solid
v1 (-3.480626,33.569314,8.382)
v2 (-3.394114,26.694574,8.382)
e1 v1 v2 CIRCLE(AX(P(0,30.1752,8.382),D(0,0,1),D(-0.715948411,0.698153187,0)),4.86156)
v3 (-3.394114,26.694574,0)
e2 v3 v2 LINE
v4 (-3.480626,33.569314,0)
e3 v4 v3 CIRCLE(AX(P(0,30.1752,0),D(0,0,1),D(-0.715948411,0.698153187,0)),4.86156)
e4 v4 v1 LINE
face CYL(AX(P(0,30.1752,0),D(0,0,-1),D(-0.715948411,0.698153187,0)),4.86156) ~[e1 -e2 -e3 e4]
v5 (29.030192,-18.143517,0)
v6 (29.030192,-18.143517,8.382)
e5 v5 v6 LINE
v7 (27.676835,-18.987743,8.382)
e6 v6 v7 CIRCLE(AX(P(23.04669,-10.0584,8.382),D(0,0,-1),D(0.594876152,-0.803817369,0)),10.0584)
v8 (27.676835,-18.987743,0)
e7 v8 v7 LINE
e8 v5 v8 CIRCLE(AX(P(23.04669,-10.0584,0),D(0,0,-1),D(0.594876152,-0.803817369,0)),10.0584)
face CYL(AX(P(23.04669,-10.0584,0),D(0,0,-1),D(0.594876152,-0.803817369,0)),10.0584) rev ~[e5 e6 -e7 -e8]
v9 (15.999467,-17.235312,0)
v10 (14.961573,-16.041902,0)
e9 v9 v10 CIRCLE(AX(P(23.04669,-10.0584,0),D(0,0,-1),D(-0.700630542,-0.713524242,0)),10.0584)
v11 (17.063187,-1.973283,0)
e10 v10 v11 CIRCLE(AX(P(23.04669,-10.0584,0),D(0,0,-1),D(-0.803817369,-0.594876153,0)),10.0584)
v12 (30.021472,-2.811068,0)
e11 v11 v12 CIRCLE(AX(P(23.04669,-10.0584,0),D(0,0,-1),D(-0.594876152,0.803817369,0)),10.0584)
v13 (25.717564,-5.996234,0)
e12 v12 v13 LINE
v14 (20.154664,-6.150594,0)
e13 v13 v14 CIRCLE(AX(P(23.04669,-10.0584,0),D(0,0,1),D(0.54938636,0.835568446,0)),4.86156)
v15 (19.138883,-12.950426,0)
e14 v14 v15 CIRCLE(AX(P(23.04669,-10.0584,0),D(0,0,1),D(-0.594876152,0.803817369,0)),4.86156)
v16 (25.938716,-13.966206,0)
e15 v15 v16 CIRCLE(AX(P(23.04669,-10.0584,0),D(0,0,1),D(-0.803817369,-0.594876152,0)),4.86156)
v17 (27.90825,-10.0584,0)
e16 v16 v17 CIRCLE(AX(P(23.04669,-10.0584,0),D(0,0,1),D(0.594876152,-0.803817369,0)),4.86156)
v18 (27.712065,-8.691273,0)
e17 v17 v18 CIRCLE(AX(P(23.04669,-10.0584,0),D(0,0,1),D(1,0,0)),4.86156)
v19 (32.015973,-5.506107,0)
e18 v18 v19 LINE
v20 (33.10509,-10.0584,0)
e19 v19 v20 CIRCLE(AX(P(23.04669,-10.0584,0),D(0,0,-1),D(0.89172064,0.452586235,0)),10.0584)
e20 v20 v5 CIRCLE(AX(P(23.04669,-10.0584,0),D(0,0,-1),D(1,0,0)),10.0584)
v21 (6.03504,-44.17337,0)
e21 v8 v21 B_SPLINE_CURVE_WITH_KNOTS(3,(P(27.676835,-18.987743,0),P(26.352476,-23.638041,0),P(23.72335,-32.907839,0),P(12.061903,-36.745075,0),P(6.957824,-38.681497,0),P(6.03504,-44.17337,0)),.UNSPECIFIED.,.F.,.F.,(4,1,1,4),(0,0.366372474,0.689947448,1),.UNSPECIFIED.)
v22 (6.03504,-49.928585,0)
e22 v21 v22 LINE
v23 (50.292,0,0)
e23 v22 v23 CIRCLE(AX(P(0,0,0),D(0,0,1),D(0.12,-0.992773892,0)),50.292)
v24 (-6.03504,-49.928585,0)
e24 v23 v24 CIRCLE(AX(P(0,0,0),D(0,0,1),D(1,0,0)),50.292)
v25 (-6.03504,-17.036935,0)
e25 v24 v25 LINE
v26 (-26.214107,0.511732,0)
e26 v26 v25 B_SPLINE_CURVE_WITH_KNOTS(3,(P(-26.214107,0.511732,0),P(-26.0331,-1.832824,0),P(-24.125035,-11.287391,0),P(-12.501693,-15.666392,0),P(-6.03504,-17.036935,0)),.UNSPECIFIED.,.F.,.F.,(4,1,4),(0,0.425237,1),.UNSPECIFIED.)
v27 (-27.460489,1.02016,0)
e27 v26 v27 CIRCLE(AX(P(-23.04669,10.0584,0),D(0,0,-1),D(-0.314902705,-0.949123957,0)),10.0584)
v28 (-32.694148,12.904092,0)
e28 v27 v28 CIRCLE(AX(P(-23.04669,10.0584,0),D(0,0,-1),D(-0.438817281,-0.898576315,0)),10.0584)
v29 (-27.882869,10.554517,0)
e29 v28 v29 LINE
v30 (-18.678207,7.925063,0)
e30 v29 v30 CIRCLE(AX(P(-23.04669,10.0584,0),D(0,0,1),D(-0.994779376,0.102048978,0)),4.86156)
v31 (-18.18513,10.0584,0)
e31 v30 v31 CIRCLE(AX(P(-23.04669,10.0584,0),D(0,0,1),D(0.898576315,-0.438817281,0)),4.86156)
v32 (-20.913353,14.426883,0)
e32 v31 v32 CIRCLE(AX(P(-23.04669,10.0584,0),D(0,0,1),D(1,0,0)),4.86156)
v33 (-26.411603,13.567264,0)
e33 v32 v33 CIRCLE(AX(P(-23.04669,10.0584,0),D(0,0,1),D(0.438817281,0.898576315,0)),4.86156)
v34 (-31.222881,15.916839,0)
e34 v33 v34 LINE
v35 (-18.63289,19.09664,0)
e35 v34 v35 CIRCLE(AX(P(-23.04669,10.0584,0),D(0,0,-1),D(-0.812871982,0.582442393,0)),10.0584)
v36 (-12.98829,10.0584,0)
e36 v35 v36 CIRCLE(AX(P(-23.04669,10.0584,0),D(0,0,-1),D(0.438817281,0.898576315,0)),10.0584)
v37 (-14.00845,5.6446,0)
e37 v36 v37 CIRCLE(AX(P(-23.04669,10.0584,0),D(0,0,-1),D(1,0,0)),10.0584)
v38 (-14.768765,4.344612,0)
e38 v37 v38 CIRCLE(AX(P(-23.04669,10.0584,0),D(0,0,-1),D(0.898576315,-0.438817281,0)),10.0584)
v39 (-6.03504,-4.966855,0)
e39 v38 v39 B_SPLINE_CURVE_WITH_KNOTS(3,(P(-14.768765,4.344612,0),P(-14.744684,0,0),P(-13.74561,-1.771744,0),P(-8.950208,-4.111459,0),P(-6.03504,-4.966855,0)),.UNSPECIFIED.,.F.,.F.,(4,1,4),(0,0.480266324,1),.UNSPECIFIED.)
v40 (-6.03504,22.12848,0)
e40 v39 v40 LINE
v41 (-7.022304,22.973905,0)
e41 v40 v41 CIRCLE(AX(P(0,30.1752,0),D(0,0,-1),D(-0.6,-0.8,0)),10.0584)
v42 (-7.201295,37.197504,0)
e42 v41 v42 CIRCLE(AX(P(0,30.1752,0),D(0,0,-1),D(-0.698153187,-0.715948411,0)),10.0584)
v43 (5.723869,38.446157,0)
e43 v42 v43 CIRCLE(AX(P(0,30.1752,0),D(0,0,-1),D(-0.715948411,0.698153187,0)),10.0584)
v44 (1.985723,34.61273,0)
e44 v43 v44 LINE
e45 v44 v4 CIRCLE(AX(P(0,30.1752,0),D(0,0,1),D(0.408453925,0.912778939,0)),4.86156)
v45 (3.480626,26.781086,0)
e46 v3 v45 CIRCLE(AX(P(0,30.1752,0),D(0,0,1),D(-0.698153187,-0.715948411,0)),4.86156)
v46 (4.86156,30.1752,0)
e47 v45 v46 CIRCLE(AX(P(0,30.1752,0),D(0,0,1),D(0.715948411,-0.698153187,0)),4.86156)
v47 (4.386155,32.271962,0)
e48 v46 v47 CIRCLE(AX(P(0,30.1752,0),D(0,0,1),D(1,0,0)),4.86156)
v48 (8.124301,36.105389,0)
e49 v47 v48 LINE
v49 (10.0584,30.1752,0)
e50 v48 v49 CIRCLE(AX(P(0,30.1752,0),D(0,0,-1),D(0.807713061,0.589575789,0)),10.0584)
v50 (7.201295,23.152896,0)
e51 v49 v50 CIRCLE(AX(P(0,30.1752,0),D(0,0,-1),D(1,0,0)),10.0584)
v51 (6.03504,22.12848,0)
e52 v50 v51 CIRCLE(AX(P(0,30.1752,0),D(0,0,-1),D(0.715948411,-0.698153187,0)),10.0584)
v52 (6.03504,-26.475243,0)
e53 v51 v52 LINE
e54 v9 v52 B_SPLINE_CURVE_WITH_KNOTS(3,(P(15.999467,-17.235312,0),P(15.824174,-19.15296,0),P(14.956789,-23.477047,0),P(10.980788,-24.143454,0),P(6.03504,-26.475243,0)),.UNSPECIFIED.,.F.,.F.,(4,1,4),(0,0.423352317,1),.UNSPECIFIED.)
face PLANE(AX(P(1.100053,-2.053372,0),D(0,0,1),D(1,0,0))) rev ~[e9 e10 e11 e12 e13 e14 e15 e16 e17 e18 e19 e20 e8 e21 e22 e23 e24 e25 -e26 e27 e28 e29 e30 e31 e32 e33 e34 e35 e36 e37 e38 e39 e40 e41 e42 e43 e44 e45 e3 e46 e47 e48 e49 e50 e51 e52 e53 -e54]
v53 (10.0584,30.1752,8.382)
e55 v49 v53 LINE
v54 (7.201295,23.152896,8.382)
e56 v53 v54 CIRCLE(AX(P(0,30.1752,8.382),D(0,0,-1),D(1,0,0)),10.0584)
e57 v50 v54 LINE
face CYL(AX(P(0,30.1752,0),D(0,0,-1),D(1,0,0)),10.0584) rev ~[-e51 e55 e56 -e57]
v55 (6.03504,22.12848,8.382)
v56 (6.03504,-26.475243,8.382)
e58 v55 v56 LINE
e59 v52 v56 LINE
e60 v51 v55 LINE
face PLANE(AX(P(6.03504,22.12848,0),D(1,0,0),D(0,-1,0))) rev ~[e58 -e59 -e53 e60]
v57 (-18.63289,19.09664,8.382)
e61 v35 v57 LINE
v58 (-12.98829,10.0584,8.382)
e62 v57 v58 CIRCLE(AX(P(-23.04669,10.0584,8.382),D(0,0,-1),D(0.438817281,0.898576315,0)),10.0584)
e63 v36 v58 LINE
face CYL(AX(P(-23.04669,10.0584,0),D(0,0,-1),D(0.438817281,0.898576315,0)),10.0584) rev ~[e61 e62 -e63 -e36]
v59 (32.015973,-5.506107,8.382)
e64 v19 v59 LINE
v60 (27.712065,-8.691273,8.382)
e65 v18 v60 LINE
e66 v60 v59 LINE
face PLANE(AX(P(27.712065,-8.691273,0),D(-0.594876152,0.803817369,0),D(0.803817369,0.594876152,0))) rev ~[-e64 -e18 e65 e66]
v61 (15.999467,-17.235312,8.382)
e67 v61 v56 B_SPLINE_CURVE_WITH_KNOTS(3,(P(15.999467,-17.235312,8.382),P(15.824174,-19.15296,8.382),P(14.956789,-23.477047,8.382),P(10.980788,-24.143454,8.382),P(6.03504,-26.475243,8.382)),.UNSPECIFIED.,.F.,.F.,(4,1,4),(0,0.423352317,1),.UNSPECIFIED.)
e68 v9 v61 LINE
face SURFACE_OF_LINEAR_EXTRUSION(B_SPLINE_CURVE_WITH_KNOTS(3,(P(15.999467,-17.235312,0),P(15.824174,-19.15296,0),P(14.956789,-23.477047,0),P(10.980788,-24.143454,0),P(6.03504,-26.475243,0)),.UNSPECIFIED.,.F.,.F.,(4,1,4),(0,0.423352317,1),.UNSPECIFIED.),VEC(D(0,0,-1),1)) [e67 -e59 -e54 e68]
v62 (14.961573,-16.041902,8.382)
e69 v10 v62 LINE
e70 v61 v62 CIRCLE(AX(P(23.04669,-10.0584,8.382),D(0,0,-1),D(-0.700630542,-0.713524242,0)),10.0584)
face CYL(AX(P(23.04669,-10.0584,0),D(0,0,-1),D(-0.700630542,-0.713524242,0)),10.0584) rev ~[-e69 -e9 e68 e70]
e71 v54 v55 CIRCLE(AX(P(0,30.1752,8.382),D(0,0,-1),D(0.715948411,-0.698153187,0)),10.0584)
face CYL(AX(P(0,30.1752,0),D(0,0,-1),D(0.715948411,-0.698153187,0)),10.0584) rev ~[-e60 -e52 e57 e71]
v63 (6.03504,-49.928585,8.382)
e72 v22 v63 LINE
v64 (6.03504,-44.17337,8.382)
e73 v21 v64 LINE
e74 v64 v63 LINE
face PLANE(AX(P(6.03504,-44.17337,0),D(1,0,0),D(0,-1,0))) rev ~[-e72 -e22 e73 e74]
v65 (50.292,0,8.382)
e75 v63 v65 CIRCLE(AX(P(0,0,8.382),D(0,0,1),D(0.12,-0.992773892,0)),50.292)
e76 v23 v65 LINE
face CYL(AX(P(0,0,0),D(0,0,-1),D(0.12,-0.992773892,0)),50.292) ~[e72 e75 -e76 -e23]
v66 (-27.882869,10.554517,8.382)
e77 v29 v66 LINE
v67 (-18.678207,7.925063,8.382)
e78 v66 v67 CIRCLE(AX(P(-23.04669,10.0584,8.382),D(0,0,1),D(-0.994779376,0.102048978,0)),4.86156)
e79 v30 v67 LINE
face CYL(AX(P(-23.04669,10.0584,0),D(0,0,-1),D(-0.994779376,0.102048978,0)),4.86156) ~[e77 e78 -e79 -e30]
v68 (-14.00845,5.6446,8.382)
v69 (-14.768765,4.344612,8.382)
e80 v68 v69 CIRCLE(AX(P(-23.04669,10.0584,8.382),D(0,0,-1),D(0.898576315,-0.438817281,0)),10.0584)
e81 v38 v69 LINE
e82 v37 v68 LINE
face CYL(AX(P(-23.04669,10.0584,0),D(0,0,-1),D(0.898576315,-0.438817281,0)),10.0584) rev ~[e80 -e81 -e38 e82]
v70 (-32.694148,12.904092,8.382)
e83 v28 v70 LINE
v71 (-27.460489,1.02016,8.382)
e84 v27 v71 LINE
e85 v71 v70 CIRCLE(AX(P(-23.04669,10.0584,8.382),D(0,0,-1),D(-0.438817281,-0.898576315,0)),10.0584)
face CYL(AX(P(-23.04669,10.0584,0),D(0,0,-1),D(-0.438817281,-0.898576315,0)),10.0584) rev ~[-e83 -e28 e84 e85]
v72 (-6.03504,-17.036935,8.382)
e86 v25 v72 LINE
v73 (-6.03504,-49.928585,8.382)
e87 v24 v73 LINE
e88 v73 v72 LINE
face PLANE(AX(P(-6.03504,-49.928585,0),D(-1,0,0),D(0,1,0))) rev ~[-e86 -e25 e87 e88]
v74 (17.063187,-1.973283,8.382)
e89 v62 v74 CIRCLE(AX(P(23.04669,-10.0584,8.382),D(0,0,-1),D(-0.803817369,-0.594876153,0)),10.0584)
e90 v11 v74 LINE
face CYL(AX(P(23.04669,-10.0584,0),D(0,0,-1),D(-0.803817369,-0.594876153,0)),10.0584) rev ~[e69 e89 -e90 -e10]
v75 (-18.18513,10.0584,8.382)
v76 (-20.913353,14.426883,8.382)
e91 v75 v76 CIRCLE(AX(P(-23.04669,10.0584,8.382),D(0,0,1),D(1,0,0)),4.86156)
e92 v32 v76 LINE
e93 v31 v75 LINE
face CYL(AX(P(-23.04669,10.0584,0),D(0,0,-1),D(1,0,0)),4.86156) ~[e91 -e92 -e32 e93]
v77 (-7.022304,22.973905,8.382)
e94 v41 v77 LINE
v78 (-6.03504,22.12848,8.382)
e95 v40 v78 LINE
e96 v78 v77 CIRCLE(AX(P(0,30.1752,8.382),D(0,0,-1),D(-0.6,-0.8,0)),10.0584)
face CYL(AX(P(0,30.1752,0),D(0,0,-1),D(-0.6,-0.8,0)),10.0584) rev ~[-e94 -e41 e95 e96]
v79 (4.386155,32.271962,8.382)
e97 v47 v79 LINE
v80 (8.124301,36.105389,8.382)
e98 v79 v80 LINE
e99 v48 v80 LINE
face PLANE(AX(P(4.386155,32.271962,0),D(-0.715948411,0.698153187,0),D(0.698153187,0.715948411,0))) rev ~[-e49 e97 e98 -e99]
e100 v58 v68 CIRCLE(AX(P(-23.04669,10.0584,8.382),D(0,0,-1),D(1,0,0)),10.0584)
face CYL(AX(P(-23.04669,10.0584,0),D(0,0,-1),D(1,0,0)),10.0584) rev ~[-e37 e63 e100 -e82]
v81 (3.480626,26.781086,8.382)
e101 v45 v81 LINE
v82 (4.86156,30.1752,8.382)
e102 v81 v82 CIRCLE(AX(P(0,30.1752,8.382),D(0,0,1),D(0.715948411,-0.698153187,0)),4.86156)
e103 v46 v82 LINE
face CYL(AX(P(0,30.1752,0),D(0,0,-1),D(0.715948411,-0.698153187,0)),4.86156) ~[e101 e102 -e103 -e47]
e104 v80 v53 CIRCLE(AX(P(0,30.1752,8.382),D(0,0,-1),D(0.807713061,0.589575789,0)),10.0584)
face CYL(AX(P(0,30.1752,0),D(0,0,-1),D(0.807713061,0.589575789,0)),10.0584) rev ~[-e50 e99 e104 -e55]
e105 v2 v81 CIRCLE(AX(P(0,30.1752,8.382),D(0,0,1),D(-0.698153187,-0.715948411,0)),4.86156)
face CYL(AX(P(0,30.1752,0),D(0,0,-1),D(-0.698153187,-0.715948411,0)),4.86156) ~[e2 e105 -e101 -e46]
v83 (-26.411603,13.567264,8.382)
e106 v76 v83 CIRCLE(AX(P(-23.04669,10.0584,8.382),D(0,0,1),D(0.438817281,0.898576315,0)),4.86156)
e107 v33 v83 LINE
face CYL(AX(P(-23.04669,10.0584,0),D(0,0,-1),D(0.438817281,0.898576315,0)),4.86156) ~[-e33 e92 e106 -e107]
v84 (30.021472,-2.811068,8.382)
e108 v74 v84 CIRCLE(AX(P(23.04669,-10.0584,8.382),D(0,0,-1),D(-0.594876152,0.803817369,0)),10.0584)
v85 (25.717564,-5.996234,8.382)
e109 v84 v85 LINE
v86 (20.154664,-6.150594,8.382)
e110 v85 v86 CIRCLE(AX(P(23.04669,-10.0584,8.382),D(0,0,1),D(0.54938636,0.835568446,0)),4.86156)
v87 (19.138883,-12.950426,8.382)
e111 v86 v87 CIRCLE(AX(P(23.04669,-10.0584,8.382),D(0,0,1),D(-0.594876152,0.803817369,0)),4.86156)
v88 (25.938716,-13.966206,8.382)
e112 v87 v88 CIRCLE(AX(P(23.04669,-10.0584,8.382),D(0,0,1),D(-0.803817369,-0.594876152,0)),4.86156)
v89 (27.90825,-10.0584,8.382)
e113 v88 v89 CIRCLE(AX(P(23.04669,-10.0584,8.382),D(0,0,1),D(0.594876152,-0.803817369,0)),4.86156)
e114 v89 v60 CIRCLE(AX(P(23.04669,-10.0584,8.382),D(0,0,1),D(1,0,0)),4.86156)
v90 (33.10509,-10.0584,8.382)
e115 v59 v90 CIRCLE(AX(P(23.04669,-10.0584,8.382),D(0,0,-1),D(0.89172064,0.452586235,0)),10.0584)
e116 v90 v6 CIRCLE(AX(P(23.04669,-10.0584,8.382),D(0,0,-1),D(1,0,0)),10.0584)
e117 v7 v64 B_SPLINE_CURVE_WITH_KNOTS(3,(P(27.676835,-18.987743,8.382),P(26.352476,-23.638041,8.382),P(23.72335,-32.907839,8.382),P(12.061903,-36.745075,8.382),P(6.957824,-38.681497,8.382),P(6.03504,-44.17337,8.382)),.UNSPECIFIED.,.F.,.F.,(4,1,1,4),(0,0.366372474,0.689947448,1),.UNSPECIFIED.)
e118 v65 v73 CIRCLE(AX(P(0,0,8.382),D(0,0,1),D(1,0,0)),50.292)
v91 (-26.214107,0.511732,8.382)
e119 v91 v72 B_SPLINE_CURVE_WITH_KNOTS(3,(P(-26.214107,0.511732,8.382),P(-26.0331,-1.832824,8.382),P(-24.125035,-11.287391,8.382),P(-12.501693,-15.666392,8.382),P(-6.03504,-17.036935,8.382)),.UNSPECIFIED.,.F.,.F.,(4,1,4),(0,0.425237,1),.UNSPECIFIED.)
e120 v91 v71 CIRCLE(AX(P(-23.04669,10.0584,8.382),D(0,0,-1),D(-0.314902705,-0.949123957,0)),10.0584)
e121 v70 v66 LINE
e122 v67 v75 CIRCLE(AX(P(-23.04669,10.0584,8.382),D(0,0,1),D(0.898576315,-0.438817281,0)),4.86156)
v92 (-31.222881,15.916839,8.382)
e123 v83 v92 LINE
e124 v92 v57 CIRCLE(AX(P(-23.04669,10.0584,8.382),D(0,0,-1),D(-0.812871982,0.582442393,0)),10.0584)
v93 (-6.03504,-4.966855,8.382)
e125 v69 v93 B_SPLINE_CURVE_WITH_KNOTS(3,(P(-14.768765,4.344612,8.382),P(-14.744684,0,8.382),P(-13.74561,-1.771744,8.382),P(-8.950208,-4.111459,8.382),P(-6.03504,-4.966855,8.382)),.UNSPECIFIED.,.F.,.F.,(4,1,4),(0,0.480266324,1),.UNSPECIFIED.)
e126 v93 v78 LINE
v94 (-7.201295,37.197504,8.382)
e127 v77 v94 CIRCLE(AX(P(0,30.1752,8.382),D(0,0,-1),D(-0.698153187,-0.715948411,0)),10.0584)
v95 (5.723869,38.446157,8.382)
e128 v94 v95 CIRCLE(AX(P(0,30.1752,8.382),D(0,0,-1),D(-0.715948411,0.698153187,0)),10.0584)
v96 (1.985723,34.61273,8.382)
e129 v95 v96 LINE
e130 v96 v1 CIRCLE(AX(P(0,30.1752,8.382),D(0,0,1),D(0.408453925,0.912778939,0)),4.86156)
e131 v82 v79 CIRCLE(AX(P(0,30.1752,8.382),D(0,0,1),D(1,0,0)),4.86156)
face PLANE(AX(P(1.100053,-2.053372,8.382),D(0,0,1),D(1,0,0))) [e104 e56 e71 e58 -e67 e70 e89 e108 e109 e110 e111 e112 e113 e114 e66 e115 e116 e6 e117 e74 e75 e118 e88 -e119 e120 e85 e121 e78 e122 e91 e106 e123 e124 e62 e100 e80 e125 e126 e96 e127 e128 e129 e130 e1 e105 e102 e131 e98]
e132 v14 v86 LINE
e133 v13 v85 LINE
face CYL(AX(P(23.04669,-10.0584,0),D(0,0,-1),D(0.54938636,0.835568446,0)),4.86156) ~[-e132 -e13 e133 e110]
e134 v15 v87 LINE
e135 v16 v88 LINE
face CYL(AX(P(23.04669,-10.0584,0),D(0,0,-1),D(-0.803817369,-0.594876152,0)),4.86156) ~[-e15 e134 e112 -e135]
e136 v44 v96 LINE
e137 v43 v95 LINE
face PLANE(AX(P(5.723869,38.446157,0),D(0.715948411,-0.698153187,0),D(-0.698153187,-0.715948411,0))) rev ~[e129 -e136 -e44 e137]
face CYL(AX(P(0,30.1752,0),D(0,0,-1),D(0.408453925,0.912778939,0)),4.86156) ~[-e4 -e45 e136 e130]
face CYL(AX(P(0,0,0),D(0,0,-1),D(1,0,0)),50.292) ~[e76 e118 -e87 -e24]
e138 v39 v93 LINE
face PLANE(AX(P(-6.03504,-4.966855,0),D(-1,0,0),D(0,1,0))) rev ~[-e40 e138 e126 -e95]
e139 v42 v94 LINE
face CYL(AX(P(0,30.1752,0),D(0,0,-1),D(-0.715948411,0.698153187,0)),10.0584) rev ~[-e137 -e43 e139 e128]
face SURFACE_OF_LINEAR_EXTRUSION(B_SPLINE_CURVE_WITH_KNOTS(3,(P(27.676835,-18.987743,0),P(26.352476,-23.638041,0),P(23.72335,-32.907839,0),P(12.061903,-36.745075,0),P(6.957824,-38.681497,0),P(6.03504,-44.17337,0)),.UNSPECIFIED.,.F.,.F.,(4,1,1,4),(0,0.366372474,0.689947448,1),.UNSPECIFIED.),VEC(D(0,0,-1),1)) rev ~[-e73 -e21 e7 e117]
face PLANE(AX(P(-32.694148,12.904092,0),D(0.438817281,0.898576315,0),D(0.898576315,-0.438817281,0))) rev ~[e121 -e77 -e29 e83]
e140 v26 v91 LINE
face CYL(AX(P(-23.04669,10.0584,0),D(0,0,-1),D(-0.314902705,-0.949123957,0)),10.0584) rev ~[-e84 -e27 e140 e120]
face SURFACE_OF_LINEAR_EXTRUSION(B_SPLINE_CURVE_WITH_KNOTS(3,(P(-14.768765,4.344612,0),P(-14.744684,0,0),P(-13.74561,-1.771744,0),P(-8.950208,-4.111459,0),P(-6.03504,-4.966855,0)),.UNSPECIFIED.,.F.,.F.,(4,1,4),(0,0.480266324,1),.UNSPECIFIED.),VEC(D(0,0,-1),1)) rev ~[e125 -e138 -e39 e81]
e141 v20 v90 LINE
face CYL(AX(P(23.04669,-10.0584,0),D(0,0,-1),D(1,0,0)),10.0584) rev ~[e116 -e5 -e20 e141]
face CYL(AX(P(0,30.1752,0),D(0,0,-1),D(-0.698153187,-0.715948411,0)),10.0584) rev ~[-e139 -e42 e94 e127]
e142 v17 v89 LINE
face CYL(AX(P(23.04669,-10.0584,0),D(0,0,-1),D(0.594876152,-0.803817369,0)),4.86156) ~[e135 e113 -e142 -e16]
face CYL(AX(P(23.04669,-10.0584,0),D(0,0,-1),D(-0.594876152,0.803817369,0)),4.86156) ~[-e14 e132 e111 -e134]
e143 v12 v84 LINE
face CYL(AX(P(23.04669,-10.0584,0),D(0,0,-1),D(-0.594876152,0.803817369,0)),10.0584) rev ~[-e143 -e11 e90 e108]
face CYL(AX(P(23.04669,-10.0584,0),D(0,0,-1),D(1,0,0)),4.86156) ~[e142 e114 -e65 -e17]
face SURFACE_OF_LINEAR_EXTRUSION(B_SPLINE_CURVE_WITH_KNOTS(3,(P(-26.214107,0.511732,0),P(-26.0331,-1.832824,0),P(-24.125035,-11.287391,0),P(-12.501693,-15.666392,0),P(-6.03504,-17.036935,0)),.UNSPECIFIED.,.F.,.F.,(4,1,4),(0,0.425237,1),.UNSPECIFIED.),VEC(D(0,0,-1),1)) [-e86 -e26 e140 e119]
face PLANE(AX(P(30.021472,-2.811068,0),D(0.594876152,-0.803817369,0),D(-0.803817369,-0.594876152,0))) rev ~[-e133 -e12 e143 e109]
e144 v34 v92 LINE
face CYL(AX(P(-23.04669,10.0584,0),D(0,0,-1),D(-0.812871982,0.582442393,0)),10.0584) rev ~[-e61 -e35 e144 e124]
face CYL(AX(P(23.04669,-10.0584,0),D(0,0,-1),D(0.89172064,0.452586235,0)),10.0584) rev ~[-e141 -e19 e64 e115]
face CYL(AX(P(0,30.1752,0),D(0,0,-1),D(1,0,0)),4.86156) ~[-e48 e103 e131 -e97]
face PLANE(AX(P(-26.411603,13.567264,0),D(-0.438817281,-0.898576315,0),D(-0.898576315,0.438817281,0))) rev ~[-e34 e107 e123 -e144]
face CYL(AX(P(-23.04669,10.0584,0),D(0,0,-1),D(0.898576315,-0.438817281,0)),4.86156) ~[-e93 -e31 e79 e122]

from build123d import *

# Parameters (mm, degrees)
F1_DEPTH = 12.7
F2_SCALE = 0.66


with BuildPart() as f1:
    # F0 (on Top) → F1 (new body)
    with BuildSketch(Plane.XY):
        with BuildLine():
            ThreePointArc((9.144, -75.649370546), (57.0228585744, -50.545361805), (76.2, 0))
            ThreePointArc((76.2, 0), (-50.545361805, 57.0228585744), (-9.144, -75.649370546))
            Line((-9.144, -75.649370546), (-9.144, -25.8135372295))
            add(Edge.make_bspline(
                [(-39.7183440202, 0.7753508904), (-39.4440910843, -2.777005422), (-36.553083053, -17.1021078443), (-18.9419593371, -23.7369574995), (-9.144, -25.8135372295)],
                knots=[0, 0, 0, 0, 0.4252369996, 1, 1, 1, 1], degree=3))
            ThreePointArc((-39.7183440202, 0.7753508904), (-40.6754742648, 1.1288974537), (-41.6068021603, 1.5456969604))
            ThreePointArc((-41.6068021603, 1.5456969604), (-48.8665814514, 9.0976146242), (-49.5365875824, 19.5516543956))
            Line((-49.5365875824, 19.5516543956), (-49.7281257293, 19.6451915248))
            Line((-49.7281257293, 19.6451915248), (-48.6135298352, 21.9275753647))
            Line((-48.6135298352, 21.9275753647), (-47.4989339411, 24.2099592047))
            Line((-47.4989339411, 24.2099592047), (-47.3073957942, 24.1164220755))
            ThreePointArc((-47.3073957942, 24.1164220755), (-38.6511413432, 30.0160080471), (-28.2316514308, 28.9343030396))
            ThreePointArc((-28.2316514308, 28.9343030396), (-21.9929696312, 23.3127613442), (-19.6792267956, 15.24))
            ThreePointArc((-19.6792267956, 15.24), (-20.0706784099, 11.8080601931), (-21.2249237559, 8.5524246353))
            ThreePointArc((-21.2249237559, 8.5524246353), (-21.7640042988, 7.5459944723), (-22.3769164732, 6.5827457137))
            add(Edge.make_bspline(
                [(-22.3769164732, 6.5827457137), (-22.3404298332, 0), (-20.8266819608, -2.6844598977), (-13.5609207024, -6.2294838744), (-9.144, -7.5255372295)],
                knots=[0, 0, 0, 0, 0.4802663243, 1, 1, 1, 1], degree=3))
            Line((-9.144, -7.5255372295), (-9.144, 33.528))
            ThreePointArc((-9.144, 33.528), (-9.9126399717, 34.1442853875), (-10.6398545697, 34.8089462134))
            ThreePointArc((-10.6398545697, 34.8089462134), (-15.2387934395, 45.5282331947), (-10.9110537866, 56.3598545697))
            ThreePointArc((-10.9110537866, 56.3598545697), (-1.4654583891, 60.8893780924), (8.6725291214, 58.2517532149))
            Line((8.6725291214, 58.2517532149), (8.8213456053, 58.4043628816))
            Line((8.8213456053, 58.4043628816), (10.6398545697, 56.6310537866))
            Line((10.6398545697, 56.6310537866), (12.4583635342, 54.8577446917))
            Line((12.4583635342, 54.8577446917), (12.3095470503, 54.705135025))
            ThreePointArc((12.3095470503, 54.705135025), (14.4888767171, 50.445468387), (15.24, 45.72))
            ThreePointArc((15.24, 45.72), (14.1163391095, 39.9766063912), (10.9110537866, 35.0801454303))
            ThreePointArc((10.9110537866, 35.0801454303), (10.0575138307, 34.2699338192), (9.144, 33.528))
            Line((9.144, 33.528), (9.144, -40.114004193))
            add(Edge.make_bspline(
                [(24.2416173395, -26.1141094488), (23.9760214951, -29.019635992), (22.6618021702, -35.5712830239), (16.637557432, -36.5809902221), (9.144, -40.114004193)],
                knots=[0, 0, 0, 0, 0.4233523174, 1, 1, 1, 1], degree=3))
            ThreePointArc((24.2416173395, -26.1141094488), (23.4197381725, -25.2409680236), (22.6690500874, -24.305912564))
            ThreePointArc((22.6690500874, -24.305912564), (19.8464755228, -12.9883852305), (25.8533142316, -2.9898232918))
            ThreePointArc((25.8533142316, -2.9898232918), (35.902476764, -0.0317515966), (45.4870784954, -4.2591935428))
            Line((45.4870784954, -4.2591935428), (45.6584180764, -4.132391318))
            Line((45.6584180764, -4.132391318), (47.1694035038, -6.174087436))
            Line((47.1694035038, -6.174087436), (48.6803889311, -8.2157835541))
            Line((48.6803889311, -8.2157835541), (48.50904935, -8.3425857789))
            ThreePointArc((48.50904935, -8.3425857789), (49.7409422113, -11.6939667042), (50.1592267956, -15.24))
            ThreePointArc((50.1592267956, -15.24), (48.5284535825, -22.0990484954), (43.9851393595, -27.4901767082))
            ThreePointArc((43.9851393595, -27.4901767082), (42.9852650291, -28.1704534806), (41.9345988887, -28.76930724))
            add(Edge.make_bspline(
                [(41.9345988887, -28.76930724), (39.9279943087, -35.8152130856), (35.9444698061, -49.8603623611), (18.2756100818, -55.6743562626), (10.5421582828, -58.6083281826), (9.144, -66.9293478131)],
                knots=[0, 0, 0, 0, 0.3663724735, 0.6899474477, 1, 1, 1, 1], degree=3))
            Line((9.144, -66.9293478131), (9.144, -75.649370546))
        make_face()
        with BuildLine():
            ThreePointArc((-42.246771676, 15.991692773), (-41.3581076897, 11.6624633013), (-38.1515548885, 8.6210868642))
            ThreePointArc((-38.1515548885, 8.6210868642), (-32.5245495467, 8.274120524), (-28.3003136597, 12.007671907))
            ThreePointArc((-28.3003136597, 12.007671907), (-27.7424284092, 13.5812290933), (-27.5532267956, 15.24))
            ThreePointArc((-27.5532267956, 15.24), (-28.6715358328, 19.1418346497), (-31.6868987026, 21.8589131358))
            ThreePointArc((-31.6868987026, 21.8589131358), (-36.057035247, 22.5175921793), (-40.0175798878, 20.5564604529))
            ThreePointArc((-40.0175798878, 20.5564604529), (-40.869813648, 19.5814827089), (-41.5381399314, 18.472328093))
            ThreePointArc((-41.5381399314, 18.472328093), (-42.0019035987, 17.2632758839), (-42.246771676, 15.991692773))
        make_face()
        with BuildLine():
            ThreePointArc((-5.2736759969, 50.8625963754), (-7.3654168291, 45.6273127108), (-5.1425963754, 40.4463240031))
            ThreePointArc((-5.1425963754, 40.4463240031), (0.0926872892, 38.3545831709), (5.2736759969, 40.5774036246))
            ThreePointArc((5.2736759969, 40.5774036246), (6.8228972363, 42.9440264224), (7.366, 45.72))
            ThreePointArc((7.366, 45.72), (7.1836656788, 47.3487735922), (6.6456895426, 48.8969114725))
            ThreePointArc((6.6456895426, 48.8969114725), (5.9866540395, 50.0116115169), (5.1425963754, 50.9936759969))
            ThreePointArc((5.1425963754, 50.9936759969), (4.1396028034, 51.8127534522), (3.0086716137, 52.4435296624))
            ThreePointArc((3.0086716137, 52.4435296624), (-1.3810860685, 52.9553684959), (-5.2736759969, 50.8625963754))
        make_face()
        with BuildLine():
            ThreePointArc((28.9983080533, -19.6218577393), (33.8309463237, -22.5251631152), (39.3010845348, -21.1609187423))
            ThreePointArc((39.3010845348, -21.1609187423), (41.4970197426, -18.5552067728), (42.2852267956, -15.24))
            ThreePointArc((42.2852267956, -15.24), (42.2105358085, -14.1936879636), (41.9879775755, -13.1685950634))
            ThreePointArc((41.9879775755, -13.1685950634), (41.5160007505, -11.962725311), (40.8401455379, -10.8581422607))
            ThreePointArc((40.8401455379, -10.8581422607), (39.9812997643, -9.888983904), (38.9660067208, -9.0852028274))
            ThreePointArc((38.9660067208, -9.0852028274), (34.7149131509, -7.8768341093), (30.5373690563, -9.3190812577))
            ThreePointArc((30.5373690563, -9.3190812577), (27.6340636804, -14.1517195281), (28.9983080533, -19.6218577393))
        make_face()
        with BuildLine():
            ThreePointArc((-48.6135298352, 21.9275753647), (-49.1248182042, 20.7589467049), (-49.5365875824, 19.5516543956))
            Line((-49.5365875824, 19.5516543956), (-42.246771676, 15.991692773))
            ThreePointArc((-42.246771676, 15.991692773), (-42.0019035987, 17.2632758839), (-41.5381399314, 18.472328093))
            Line((-41.5381399314, 18.472328093), (-48.6135298352, 21.9275753647))
        make_face()
        with BuildLine():
            ThreePointArc((47.1694035038, -6.174087436), (46.3683450919, -5.1814071443), (45.4870784954, -4.2591935428))
            Line((45.4870784954, -4.2591935428), (38.9660067208, -9.0852028274))
            ThreePointArc((38.9660067208, -9.0852028274), (39.9812997643, -9.888983904), (40.8401455379, -10.8581422607))
            Line((40.8401455379, -10.8581422607), (47.1694035038, -6.174087436))
        make_face()
        with BuildLine():
            Line((41.9879775755, -13.1685950634), (48.50904935, -8.3425857789))
            ThreePointArc((48.50904935, -8.3425857789), (47.8846418194, -7.230280076), (47.1694035038, -6.174087436))
            Line((47.1694035038, -6.174087436), (40.8401455379, -10.8581422607))
            ThreePointArc((40.8401455379, -10.8581422607), (41.5160007505, -11.962725311), (41.9879775755, -13.1685950634))
        make_face()
        with BuildLine():
            Line((6.6456895426, 48.8969114725), (12.3095470503, 54.705135025))
            ThreePointArc((12.3095470503, 54.705135025), (11.5150357988, 55.7030631848), (10.6398545697, 56.6310537866))
            Line((10.6398545697, 56.6310537866), (5.1425963754, 50.9936759969))
            ThreePointArc((5.1425963754, 50.9936759969), (5.9866540395, 50.0116115169), (6.6456895426, 48.8969114725))
        make_face()
        with BuildLine():
            ThreePointArc((10.6398545697, 56.6310537866), (9.6901345511, 57.48260568), (8.6725291214, 58.2517532149))
            Line((8.6725291214, 58.2517532149), (3.0086716137, 52.4435296624))
            ThreePointArc((3.0086716137, 52.4435296624), (4.1396028034, 51.8127534522), (5.1425963754, 50.9936759969))
            Line((5.1425963754, 50.9936759969), (10.6398545697, 56.6310537866))
        make_face()
        with BuildLine():
            ThreePointArc((-47.3073957942, 24.1164220755), (-48.006304368, 23.0493534056), (-48.6135298352, 21.9275753647))
            Line((-48.6135298352, 21.9275753647), (-41.5381399314, 18.472328093))
            ThreePointArc((-41.5381399314, 18.472328093), (-40.869813648, 19.5814827089), (-40.0175798878, 20.5564604529))
            Line((-40.0175798878, 20.5564604529), (-47.3073957942, 24.1164220755))
        make_face()
        with BuildLine():
            ThreePointArc((47.1694035038, -6.174087436), (47.8846418194, -7.230280076), (48.50904935, -8.3425857789))
            Line((48.50904935, -8.3425857789), (48.6803889311, -8.2157835541))
            Line((48.6803889311, -8.2157835541), (47.1694035038, -6.174087436))
        make_face()
        with BuildLine():
            Line((45.6584180764, -4.132391318), (45.4870784954, -4.2591935428))
            ThreePointArc((45.4870784954, -4.2591935428), (46.3683450919, -5.1814071443), (47.1694035038, -6.174087436))
            Line((47.1694035038, -6.174087436), (45.6584180764, -4.132391318))
        make_face()
        with BuildLine():
            Line((8.8213456053, 58.4043628816), (8.6725291214, 58.2517532149))
            ThreePointArc((8.6725291214, 58.2517532149), (9.6901345511, 57.48260568), (10.6398545697, 56.6310537866))
            Line((10.6398545697, 56.6310537866), (8.8213456053, 58.4043628816))
        make_face()
        with BuildLine():
            ThreePointArc((10.6398545697, 56.6310537866), (11.5150357988, 55.7030631848), (12.3095470503, 54.705135025))
            Line((12.3095470503, 54.705135025), (12.4583635342, 54.8577446917))
            Line((12.4583635342, 54.8577446917), (10.6398545697, 56.6310537866))
        make_face()
        with BuildLine():
            Line((-49.7281257293, 19.6451915248), (-49.5365875824, 19.5516543956))
            ThreePointArc((-49.5365875824, 19.5516543956), (-49.1248182042, 20.7589467049), (-48.6135298352, 21.9275753647))
            Line((-48.6135298352, 21.9275753647), (-49.7281257293, 19.6451915248))
        make_face()
        with BuildLine():
            Line((-47.4989339411, 24.2099592047), (-48.6135298352, 21.9275753647))
            ThreePointArc((-48.6135298352, 21.9275753647), (-48.006304368, 23.0493534056), (-47.3073957942, 24.1164220755))
            Line((-47.3073957942, 24.1164220755), (-47.4989339411, 24.2099592047))
        make_face()
    extrude(amount=F1_DEPTH)


with BuildPart() as f1_1:
    # F2: moved
    add(f1.part.scale(F2_SCALE))


solid = f1_1.part
